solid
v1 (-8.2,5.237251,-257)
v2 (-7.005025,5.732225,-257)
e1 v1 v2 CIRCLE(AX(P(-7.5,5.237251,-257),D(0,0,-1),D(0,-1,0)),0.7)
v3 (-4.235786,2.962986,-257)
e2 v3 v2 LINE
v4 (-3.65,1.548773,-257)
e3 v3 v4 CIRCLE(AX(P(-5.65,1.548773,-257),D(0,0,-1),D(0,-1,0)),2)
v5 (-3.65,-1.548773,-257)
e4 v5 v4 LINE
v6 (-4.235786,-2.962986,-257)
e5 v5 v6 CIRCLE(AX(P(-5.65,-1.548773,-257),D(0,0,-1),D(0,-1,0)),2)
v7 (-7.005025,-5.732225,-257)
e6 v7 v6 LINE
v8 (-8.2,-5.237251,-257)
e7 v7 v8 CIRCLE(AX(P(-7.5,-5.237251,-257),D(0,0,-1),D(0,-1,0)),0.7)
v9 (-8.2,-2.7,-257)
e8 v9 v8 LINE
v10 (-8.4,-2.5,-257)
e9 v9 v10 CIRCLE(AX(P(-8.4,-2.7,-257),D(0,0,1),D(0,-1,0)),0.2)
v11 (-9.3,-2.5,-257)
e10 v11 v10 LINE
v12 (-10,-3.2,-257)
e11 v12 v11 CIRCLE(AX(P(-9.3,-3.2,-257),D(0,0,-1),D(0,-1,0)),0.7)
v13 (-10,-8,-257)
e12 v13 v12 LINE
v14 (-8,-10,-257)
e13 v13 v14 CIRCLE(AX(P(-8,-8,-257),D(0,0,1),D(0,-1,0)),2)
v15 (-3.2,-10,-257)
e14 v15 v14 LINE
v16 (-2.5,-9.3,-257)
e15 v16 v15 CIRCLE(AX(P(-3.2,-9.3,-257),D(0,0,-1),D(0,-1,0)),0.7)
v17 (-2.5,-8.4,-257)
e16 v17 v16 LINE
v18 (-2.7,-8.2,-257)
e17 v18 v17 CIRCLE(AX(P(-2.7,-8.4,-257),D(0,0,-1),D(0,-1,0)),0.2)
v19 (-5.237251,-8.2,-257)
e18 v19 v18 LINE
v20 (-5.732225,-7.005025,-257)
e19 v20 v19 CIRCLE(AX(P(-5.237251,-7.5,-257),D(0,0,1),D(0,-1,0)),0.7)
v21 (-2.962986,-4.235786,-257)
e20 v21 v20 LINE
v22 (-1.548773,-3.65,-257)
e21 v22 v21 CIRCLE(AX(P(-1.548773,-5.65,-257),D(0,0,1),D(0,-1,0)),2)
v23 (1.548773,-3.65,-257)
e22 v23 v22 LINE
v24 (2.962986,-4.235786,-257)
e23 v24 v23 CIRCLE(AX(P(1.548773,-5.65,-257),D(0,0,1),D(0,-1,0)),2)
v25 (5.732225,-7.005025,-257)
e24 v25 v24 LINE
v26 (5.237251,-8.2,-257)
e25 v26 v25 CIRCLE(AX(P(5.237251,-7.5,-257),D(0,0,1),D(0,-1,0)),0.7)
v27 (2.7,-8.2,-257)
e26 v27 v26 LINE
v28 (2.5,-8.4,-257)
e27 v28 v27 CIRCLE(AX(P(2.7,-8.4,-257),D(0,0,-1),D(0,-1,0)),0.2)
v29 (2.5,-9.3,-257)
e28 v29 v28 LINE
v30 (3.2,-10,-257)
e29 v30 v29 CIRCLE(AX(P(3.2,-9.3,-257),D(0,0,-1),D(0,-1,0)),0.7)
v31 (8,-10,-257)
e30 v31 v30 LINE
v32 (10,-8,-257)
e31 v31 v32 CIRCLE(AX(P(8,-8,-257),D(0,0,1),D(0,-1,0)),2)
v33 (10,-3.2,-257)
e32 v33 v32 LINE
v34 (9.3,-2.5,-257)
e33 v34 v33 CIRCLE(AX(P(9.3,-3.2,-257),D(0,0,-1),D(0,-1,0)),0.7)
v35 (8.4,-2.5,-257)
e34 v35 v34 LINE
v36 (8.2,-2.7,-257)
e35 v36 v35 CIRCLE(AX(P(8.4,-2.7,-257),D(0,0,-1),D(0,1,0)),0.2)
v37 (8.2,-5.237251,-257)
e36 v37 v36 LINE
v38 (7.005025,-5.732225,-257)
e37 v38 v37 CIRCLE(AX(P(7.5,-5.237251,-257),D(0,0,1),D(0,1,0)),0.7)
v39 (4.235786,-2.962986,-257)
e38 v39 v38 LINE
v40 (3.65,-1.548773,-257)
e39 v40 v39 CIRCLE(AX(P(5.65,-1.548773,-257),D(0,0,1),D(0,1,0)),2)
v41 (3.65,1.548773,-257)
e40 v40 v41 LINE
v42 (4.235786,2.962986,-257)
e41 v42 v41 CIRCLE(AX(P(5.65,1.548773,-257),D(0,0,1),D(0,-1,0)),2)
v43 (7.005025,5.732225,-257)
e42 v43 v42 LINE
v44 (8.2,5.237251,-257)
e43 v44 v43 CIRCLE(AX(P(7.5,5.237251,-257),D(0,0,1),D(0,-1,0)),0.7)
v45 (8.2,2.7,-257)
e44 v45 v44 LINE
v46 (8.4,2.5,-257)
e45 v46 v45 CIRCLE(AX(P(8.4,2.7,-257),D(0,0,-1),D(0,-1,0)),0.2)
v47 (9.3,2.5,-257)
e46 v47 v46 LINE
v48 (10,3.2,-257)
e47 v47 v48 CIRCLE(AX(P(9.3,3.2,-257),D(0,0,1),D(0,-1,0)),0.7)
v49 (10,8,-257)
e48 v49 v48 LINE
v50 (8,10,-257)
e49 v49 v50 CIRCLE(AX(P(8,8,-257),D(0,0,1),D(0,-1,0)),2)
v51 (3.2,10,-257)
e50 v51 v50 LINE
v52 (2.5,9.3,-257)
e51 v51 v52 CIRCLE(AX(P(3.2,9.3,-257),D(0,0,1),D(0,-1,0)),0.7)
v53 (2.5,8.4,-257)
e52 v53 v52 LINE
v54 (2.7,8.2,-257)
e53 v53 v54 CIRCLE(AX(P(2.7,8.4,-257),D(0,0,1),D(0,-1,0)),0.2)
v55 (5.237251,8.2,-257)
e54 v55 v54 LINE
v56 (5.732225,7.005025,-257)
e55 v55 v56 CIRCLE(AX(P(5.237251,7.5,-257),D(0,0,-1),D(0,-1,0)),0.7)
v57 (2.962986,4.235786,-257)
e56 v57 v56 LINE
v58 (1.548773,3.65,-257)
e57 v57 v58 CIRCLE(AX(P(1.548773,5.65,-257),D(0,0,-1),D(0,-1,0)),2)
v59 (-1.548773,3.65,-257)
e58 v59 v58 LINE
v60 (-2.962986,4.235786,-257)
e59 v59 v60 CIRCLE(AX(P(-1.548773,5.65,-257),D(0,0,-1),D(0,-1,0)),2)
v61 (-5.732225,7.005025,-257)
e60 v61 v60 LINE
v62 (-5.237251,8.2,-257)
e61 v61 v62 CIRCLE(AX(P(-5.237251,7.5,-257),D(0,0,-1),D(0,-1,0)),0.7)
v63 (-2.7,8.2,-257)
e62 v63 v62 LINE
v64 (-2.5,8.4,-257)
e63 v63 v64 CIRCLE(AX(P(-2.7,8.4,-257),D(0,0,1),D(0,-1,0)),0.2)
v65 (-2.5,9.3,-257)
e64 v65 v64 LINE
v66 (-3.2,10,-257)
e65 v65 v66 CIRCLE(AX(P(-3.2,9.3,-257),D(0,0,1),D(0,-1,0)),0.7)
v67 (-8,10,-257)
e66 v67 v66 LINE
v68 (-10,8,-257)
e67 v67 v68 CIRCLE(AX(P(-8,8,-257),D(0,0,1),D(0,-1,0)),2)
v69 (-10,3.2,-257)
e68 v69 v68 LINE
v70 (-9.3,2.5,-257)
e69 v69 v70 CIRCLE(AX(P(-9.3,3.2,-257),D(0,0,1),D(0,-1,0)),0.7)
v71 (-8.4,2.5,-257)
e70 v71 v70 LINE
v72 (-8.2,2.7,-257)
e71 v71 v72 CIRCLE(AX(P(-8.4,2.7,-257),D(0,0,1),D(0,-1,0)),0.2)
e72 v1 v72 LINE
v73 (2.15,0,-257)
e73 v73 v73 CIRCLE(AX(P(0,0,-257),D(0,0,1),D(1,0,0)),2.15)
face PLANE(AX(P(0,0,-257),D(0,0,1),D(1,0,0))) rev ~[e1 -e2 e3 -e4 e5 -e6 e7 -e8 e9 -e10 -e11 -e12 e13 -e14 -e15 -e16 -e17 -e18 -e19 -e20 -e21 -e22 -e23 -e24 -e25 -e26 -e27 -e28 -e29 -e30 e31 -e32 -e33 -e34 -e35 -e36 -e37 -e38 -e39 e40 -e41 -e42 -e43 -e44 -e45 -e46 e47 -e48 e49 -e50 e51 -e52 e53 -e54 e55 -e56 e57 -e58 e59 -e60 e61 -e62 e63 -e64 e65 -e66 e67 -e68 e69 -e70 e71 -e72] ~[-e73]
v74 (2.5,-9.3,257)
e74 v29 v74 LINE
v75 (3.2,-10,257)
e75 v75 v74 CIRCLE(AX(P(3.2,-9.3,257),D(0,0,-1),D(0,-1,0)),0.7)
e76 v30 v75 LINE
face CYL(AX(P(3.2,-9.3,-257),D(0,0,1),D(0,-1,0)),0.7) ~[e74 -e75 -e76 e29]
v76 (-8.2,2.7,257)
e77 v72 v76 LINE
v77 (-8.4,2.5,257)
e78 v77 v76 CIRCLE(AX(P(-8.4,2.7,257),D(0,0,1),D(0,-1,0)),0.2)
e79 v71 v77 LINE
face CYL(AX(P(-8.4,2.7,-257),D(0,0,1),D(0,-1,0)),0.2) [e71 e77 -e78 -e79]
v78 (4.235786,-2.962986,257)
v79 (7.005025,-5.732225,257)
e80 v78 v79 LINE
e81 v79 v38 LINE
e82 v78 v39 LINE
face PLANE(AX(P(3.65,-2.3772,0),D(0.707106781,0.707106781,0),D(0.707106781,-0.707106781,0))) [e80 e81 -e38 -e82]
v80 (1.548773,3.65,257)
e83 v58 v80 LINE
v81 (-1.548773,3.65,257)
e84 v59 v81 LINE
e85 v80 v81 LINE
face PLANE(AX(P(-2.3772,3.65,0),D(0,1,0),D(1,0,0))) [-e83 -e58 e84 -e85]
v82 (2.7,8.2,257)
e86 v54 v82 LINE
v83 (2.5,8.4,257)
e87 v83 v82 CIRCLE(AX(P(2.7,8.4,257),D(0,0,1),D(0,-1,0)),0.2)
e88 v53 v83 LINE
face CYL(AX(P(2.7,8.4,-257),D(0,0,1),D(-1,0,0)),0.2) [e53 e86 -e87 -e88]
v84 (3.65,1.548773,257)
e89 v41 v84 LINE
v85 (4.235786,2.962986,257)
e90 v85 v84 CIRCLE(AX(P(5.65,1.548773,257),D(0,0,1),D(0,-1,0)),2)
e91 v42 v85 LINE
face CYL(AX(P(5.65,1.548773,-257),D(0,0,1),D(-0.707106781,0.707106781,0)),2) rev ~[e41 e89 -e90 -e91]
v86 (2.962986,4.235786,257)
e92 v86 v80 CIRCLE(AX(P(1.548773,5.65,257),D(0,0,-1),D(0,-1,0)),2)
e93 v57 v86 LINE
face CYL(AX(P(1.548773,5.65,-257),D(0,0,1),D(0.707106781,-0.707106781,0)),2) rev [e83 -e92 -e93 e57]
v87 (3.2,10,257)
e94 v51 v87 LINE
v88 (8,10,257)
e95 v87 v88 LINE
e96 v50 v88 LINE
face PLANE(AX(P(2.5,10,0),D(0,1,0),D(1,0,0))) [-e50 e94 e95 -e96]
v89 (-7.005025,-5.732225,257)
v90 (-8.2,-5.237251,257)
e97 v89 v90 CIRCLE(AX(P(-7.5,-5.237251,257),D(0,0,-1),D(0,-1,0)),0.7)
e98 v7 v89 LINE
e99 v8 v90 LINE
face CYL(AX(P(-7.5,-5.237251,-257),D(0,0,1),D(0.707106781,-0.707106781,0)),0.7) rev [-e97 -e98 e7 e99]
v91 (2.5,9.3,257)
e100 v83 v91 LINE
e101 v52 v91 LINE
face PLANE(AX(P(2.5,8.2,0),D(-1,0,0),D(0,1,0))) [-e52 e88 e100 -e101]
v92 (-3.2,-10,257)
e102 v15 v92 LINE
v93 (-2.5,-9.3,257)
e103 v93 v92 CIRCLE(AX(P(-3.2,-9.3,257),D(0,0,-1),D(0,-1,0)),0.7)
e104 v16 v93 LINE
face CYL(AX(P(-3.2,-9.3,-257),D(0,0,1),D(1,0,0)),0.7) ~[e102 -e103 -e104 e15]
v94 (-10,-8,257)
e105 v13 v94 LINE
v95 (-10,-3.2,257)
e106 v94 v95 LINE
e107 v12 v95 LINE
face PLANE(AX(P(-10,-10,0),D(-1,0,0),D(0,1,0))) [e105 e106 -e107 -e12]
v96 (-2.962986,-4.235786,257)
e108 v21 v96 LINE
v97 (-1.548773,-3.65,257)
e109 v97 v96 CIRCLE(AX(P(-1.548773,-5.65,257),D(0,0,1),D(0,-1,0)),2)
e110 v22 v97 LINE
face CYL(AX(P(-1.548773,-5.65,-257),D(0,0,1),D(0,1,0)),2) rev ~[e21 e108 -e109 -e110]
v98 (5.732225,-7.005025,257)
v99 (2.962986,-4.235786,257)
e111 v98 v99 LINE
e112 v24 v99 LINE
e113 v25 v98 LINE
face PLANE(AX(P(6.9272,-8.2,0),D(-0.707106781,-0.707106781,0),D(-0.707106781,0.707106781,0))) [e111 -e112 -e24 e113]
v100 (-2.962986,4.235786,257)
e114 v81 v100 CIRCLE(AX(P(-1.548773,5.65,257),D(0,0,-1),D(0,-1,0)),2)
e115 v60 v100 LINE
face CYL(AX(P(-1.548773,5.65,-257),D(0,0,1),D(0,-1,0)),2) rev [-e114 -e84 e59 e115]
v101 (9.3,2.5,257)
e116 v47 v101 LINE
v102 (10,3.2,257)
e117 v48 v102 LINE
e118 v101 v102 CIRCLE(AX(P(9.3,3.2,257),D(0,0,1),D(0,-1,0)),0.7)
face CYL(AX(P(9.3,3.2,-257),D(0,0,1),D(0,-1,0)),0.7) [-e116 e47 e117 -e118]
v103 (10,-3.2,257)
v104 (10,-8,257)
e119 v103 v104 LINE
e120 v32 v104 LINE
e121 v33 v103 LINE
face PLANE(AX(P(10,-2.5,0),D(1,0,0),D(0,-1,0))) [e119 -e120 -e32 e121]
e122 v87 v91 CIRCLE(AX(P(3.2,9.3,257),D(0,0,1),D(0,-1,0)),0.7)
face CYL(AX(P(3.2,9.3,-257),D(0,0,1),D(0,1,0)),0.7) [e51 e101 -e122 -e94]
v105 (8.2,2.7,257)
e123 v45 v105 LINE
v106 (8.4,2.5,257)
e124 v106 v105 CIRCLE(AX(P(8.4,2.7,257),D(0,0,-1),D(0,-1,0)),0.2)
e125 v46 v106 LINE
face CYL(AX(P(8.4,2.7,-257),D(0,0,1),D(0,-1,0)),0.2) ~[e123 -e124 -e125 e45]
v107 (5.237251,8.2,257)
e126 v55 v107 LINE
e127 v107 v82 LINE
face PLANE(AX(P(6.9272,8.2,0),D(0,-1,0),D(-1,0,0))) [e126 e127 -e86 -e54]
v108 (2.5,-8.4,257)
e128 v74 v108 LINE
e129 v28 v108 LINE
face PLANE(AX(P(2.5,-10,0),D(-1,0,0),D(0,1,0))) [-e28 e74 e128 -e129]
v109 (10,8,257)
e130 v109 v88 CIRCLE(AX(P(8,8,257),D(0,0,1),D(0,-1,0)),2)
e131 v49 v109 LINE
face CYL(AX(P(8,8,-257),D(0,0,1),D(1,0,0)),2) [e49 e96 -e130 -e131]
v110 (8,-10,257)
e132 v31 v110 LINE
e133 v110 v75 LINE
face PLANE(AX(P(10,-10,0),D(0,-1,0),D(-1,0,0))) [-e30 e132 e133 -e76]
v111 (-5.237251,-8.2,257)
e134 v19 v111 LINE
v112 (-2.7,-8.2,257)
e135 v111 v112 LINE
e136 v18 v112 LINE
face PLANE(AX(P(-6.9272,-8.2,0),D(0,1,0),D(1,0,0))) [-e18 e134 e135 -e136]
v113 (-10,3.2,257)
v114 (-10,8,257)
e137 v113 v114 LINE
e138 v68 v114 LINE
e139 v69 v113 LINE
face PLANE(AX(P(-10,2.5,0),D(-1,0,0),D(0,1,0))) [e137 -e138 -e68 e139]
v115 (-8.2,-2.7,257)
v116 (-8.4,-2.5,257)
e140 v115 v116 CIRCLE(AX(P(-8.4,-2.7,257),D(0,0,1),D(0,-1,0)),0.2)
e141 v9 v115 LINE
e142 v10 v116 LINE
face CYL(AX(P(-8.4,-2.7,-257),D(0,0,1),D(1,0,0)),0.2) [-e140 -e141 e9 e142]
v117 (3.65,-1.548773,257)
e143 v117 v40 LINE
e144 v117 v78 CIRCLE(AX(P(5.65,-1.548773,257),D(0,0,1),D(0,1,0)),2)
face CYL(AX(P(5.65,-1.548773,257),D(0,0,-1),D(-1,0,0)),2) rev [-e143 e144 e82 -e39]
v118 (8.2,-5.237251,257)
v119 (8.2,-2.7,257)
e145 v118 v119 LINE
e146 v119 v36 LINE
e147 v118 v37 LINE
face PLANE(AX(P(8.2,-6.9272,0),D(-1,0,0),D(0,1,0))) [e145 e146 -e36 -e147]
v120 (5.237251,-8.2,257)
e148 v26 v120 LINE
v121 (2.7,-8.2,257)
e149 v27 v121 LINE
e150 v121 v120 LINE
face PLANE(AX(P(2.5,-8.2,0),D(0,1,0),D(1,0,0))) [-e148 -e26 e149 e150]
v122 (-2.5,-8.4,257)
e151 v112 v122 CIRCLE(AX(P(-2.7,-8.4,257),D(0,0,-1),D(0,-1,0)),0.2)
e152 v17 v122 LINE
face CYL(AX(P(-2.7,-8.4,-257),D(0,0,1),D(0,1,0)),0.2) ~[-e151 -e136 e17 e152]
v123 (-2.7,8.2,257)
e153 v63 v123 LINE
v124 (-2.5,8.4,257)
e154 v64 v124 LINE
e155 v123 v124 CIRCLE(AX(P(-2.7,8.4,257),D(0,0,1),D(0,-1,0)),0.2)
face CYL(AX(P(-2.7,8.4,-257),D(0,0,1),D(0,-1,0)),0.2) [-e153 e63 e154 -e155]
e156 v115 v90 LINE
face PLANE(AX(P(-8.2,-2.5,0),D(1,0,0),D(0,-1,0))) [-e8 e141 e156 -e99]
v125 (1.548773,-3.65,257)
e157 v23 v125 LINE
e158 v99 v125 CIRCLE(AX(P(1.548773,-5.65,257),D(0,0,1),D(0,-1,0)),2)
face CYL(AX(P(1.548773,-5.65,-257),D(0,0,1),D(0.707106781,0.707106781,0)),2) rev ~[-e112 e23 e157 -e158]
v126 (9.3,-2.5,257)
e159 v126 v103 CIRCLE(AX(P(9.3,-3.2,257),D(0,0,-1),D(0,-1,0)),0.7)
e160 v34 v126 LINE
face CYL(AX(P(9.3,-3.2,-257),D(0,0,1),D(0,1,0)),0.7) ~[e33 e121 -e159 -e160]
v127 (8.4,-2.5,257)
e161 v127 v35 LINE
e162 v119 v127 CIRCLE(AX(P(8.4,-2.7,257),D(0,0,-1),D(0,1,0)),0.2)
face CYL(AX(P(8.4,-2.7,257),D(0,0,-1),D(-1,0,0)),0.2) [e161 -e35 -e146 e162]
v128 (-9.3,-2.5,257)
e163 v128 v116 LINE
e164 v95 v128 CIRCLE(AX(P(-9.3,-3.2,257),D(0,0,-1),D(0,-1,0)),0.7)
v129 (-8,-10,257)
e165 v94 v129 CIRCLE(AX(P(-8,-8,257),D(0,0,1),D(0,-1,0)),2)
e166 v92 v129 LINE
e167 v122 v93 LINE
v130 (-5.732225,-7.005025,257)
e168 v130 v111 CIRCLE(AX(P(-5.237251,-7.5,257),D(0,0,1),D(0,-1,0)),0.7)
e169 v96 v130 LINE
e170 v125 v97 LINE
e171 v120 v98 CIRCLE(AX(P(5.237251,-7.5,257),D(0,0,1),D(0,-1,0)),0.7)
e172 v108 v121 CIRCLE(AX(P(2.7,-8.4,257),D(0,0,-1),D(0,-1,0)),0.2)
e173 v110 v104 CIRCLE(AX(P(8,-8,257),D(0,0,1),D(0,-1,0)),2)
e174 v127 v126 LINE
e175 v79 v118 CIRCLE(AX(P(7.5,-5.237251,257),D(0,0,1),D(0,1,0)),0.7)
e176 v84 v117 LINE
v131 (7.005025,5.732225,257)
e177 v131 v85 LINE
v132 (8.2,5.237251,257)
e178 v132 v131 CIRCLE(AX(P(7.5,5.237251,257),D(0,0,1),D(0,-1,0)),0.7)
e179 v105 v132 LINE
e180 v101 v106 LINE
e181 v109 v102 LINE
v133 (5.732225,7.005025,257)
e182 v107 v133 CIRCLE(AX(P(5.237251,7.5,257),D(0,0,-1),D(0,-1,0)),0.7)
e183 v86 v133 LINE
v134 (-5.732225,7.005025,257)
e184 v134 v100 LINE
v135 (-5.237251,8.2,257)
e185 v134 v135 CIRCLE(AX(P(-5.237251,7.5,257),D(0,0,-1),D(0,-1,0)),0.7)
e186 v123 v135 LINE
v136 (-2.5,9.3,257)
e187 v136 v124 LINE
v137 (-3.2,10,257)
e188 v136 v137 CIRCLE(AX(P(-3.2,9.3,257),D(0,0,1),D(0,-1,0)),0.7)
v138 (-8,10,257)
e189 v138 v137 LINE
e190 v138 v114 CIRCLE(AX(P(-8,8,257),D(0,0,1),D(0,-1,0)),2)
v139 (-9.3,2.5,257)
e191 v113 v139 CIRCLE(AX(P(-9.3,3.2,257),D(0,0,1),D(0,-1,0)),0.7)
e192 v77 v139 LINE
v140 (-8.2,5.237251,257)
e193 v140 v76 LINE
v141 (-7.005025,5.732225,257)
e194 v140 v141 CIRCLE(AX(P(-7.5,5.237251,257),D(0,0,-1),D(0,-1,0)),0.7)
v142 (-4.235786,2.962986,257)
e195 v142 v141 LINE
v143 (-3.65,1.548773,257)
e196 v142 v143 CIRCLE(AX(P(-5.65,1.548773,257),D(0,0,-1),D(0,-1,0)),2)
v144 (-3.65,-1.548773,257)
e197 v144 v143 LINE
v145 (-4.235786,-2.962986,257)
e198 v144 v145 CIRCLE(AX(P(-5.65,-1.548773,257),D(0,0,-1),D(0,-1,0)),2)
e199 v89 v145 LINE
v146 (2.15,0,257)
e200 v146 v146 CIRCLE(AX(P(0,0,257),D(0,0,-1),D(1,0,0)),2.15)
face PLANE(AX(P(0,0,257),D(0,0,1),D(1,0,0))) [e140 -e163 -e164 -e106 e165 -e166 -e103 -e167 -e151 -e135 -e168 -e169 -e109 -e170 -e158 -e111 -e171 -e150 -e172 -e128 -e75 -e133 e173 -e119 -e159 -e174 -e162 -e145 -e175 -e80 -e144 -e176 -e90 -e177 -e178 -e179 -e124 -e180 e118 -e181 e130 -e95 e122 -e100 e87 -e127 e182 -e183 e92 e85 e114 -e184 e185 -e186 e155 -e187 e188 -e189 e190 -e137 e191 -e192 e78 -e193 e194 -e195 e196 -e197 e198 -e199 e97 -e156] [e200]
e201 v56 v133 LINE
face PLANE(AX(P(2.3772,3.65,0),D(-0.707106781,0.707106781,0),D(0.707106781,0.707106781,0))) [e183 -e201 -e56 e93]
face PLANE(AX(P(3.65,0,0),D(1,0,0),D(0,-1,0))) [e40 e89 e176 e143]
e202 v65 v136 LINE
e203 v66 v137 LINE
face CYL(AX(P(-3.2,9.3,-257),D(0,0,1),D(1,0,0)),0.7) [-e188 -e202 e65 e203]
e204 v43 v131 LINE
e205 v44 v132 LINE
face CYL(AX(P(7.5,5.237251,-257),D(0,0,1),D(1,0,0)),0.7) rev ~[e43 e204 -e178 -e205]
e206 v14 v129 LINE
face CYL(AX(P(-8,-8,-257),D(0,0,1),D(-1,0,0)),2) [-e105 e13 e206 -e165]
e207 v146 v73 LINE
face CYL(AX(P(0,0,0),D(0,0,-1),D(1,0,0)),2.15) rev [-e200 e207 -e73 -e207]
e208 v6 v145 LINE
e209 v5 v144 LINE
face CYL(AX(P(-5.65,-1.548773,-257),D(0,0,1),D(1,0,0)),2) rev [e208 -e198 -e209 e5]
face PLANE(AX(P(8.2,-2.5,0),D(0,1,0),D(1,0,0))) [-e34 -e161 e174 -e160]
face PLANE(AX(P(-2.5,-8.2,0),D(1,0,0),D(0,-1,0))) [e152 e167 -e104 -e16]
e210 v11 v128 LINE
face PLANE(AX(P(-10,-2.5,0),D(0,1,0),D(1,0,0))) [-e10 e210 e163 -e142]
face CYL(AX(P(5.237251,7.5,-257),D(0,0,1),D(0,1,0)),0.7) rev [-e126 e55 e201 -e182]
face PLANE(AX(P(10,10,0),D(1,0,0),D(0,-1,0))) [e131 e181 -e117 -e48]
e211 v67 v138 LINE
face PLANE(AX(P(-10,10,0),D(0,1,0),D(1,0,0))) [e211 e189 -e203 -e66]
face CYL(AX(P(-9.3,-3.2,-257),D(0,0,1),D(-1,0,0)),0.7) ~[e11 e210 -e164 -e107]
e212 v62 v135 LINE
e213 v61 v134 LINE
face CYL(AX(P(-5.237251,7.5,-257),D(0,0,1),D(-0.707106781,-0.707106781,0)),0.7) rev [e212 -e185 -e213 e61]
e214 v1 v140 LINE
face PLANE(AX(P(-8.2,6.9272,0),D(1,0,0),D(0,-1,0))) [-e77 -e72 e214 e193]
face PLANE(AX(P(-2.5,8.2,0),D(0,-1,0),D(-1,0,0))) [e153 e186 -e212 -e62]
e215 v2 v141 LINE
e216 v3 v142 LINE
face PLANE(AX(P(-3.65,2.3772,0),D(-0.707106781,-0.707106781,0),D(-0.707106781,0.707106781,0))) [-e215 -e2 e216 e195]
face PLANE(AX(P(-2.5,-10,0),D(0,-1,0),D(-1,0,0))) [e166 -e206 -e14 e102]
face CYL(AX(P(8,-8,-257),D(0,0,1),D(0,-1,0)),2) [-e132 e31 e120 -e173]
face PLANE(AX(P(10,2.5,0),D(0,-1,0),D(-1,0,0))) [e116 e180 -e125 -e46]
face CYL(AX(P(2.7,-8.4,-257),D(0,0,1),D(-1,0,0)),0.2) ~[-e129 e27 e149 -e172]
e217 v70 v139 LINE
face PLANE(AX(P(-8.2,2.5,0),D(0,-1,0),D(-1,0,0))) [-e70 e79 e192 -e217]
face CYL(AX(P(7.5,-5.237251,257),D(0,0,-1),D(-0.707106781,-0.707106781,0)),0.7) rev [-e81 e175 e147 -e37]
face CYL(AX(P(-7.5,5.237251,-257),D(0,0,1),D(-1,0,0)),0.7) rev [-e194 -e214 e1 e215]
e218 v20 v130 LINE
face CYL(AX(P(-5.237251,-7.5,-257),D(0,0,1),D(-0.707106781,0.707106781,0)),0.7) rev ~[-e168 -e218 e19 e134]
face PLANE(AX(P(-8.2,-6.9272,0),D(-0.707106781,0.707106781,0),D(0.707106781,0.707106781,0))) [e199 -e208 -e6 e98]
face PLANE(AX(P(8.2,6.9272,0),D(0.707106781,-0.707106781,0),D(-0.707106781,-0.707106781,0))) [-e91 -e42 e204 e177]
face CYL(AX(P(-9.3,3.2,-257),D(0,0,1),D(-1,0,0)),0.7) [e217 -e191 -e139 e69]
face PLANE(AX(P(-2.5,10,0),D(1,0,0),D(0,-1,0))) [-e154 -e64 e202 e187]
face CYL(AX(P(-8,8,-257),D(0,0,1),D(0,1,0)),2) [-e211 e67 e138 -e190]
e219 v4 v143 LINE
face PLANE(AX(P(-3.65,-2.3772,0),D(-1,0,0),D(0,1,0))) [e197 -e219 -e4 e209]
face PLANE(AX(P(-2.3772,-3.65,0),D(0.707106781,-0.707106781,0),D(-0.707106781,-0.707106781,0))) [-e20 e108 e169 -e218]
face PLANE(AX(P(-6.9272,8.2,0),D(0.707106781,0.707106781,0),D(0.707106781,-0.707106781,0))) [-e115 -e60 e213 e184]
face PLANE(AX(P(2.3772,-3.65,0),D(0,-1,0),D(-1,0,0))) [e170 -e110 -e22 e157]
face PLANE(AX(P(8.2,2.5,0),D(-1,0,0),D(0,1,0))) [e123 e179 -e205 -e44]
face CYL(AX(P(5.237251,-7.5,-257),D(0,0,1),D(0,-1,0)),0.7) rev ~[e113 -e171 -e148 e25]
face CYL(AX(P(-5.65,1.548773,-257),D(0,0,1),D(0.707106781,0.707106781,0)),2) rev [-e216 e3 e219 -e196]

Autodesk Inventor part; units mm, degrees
ref_plane "YZ Plane" through (0, 0, 0) normal (1, 0, 0) x (0, 1, 0)
ref_plane "XZ Plane" through (0, 0, 0) normal (0, 1, 0) x (-1, 0, 0)
ref_plane "XY Plane" through (0, 0, 0) normal (0, 0, 1) x (1, 0, 0)
sketch "Sketch1" plane through (0, 0, 0) normal (0, 0, 1) x (1, 0, 0)
  circle A0 centre (0, 0) radius 2.15
  line L0 (-10, 10) -> (-2.5, 10)
  line L1 (-2.5, 10) -> (-2.5, 8.2)
  line L2 (-2.5, 8.2) -> (-6.9272, 8.2)
  line L3 (-6.9272, 8.2) -> (-2.3772, 3.65)
  line L4 (-2.3772, 3.65) -> (2.3772, 3.65)
  line L5 (2.3772, 3.65) -> (6.9272, 8.2)
  line L6 (6.9272, 8.2) -> (2.5, 8.2)
  line L7 (2.5, 8.2) -> (2.5, 10)
  line L8 (2.5, 10) -> (10, 10)
  line L9 (10, 10) -> (10, 2.5)
  line L10 (10, 2.5) -> (8.2, 2.5)
  line L11 (8.2, 2.5) -> (8.2, 6.9272)
  line L12 (8.2, 6.9272) -> (3.65, 2.3772)
  line L13 (3.65, 2.3772) -> (3.65, -2.3772)
  line L14 (3.65, -2.3772) -> (8.2, -6.9272)
  line L15 (8.2, -6.9272) -> (8.2, -2.5)
  line L16 (8.2, -2.5) -> (10, -2.5)
  line L17 (10, -2.5) -> (10, -10)
  line L18 (10, -10) -> (2.5, -10)
  line L19 (2.5, -10) -> (2.5, -8.2)
  line L20 (2.5, -8.2) -> (6.9272, -8.2)
  line L21 (6.9272, -8.2) -> (2.3772, -3.65)
  line L22 (2.3772, -3.65) -> (-2.3772, -3.65)
  line L23 (-2.3772, -3.65) -> (-6.9272, -8.2)
  line L24 (-6.9272, -8.2) -> (-2.5, -8.2)
  line L25 (-2.5, -8.2) -> (-2.5, -10)
  line L26 (-2.5, -10) -> (-10, -10)
  line L27 (-10, -10) -> (-10, -2.5)
  line L28 (-10, -2.5) -> (-8.2, -2.5)
  line L29 (-8.2, -2.5) -> (-8.2, -6.9272)
  line L30 (-8.2, -6.9272) -> (-3.65, -2.3772)
  line L31 (-3.65, -2.3772) -> (-3.65, 2.3772)
  line L32 (-3.65, 2.3772) -> (-8.2, 6.9272)
  line L33 (-8.2, 6.9272) -> (-8.2, 2.5)
  line L34 (-8.2, 2.5) -> (-10, 2.5)
  line L35 (-10, 2.5) -> (-10, 10)
  line L36 (0, 0) -> (-30.8654, 30.8654)
  line L37 (0, 0) -> (30.8654, 30.8654)
  line L38 (0, 0) -> (42.5392, 0)
  line L39 (0, 0) -> (0, 44.3419)
  dimension "d0" = 45
  dimension "d1" = 90
  dimension "Breite" = 20
  dimension "Tiefe_Schiene" = 6.35
  dimension "d2" = 1.8
  dimension "Durchmesser_Loch" = 4.3
  dimension "Wandstaerke" = 1.8
  dimension "d3" = 1.8
  dimension "Breite_Schiene" = 5
  dimension "d4" = 5
extrude "Extrusion1" add sketch "Sketch1" along normal mid plane 514 contours L38 L13 L14 L15 L16 L17 L18 L19 L20 L21 L22 L23 L24 L25 L26 L27 L28 L29 L30 L31 L32 L33 L34 L35 L36 A0 | A0 L37 L9 L10 L11 L12 L13 L38 | A0 L39 L4 L5 L6 L7 L8 L37 | L36 L0 L1 L2 L3 L4 L39 A0
fillet "Fillet1" radius 2 4 edges at (10, 10, 0) (-10, 10, 0) (10, -10, 0) (-10, -10, 0)
fillet "Fillet2" radius 0.2 8 edges at (-2.5, 8.2, 0) (2.5, 8.2, 0) (8.2, 2.5, 0) (8.2, -2.5, 0) (-2.5, -8.2, 0) (-8.2, -2.5, 0) (-8.2, 2.5, 0) (2.5, -8.2, 0)
fillet "Fillet3" radius 0.7 16 edges at (-2.5, 10, 0) (2.5, 10, 0) (10, 2.5, 0) (10, -2.5, 0) (2.5, -10, 0) (-2.5, -10, 0) (-10, -2.5, 0) (-10, 2.5, 0) (-6.9272, -8.2, 0) (-8.2, -6.9272, 0) (6.9272, -8.2, 0) (8.2, -6.9272, 0) (8.2, 6.9272, 0) (6.9272, 8.2, 0) (-6.9272, 8.2, 0) (-8.2, 6.9272, 0)
fillet "Fillet4" radius 2 8 edges at (-3.65, 2.3772, 0) (-2.3772, 3.65, 0) (2.3772, 3.65, 0) (3.65, 2.3772, 0) (3.65, -2.3772, 0) (2.3772, -3.65, 0) (-2.3772, -3.65, 0) (-3.65, -2.3772, 0)
equation "\"d2\" = Wandstaerke"
equation "\"d3\" = Wandstaerke"
equation "\"d4\" = Breite_Schiene"
properties part number "502.002.01_ITEM_20x20_514mm"
